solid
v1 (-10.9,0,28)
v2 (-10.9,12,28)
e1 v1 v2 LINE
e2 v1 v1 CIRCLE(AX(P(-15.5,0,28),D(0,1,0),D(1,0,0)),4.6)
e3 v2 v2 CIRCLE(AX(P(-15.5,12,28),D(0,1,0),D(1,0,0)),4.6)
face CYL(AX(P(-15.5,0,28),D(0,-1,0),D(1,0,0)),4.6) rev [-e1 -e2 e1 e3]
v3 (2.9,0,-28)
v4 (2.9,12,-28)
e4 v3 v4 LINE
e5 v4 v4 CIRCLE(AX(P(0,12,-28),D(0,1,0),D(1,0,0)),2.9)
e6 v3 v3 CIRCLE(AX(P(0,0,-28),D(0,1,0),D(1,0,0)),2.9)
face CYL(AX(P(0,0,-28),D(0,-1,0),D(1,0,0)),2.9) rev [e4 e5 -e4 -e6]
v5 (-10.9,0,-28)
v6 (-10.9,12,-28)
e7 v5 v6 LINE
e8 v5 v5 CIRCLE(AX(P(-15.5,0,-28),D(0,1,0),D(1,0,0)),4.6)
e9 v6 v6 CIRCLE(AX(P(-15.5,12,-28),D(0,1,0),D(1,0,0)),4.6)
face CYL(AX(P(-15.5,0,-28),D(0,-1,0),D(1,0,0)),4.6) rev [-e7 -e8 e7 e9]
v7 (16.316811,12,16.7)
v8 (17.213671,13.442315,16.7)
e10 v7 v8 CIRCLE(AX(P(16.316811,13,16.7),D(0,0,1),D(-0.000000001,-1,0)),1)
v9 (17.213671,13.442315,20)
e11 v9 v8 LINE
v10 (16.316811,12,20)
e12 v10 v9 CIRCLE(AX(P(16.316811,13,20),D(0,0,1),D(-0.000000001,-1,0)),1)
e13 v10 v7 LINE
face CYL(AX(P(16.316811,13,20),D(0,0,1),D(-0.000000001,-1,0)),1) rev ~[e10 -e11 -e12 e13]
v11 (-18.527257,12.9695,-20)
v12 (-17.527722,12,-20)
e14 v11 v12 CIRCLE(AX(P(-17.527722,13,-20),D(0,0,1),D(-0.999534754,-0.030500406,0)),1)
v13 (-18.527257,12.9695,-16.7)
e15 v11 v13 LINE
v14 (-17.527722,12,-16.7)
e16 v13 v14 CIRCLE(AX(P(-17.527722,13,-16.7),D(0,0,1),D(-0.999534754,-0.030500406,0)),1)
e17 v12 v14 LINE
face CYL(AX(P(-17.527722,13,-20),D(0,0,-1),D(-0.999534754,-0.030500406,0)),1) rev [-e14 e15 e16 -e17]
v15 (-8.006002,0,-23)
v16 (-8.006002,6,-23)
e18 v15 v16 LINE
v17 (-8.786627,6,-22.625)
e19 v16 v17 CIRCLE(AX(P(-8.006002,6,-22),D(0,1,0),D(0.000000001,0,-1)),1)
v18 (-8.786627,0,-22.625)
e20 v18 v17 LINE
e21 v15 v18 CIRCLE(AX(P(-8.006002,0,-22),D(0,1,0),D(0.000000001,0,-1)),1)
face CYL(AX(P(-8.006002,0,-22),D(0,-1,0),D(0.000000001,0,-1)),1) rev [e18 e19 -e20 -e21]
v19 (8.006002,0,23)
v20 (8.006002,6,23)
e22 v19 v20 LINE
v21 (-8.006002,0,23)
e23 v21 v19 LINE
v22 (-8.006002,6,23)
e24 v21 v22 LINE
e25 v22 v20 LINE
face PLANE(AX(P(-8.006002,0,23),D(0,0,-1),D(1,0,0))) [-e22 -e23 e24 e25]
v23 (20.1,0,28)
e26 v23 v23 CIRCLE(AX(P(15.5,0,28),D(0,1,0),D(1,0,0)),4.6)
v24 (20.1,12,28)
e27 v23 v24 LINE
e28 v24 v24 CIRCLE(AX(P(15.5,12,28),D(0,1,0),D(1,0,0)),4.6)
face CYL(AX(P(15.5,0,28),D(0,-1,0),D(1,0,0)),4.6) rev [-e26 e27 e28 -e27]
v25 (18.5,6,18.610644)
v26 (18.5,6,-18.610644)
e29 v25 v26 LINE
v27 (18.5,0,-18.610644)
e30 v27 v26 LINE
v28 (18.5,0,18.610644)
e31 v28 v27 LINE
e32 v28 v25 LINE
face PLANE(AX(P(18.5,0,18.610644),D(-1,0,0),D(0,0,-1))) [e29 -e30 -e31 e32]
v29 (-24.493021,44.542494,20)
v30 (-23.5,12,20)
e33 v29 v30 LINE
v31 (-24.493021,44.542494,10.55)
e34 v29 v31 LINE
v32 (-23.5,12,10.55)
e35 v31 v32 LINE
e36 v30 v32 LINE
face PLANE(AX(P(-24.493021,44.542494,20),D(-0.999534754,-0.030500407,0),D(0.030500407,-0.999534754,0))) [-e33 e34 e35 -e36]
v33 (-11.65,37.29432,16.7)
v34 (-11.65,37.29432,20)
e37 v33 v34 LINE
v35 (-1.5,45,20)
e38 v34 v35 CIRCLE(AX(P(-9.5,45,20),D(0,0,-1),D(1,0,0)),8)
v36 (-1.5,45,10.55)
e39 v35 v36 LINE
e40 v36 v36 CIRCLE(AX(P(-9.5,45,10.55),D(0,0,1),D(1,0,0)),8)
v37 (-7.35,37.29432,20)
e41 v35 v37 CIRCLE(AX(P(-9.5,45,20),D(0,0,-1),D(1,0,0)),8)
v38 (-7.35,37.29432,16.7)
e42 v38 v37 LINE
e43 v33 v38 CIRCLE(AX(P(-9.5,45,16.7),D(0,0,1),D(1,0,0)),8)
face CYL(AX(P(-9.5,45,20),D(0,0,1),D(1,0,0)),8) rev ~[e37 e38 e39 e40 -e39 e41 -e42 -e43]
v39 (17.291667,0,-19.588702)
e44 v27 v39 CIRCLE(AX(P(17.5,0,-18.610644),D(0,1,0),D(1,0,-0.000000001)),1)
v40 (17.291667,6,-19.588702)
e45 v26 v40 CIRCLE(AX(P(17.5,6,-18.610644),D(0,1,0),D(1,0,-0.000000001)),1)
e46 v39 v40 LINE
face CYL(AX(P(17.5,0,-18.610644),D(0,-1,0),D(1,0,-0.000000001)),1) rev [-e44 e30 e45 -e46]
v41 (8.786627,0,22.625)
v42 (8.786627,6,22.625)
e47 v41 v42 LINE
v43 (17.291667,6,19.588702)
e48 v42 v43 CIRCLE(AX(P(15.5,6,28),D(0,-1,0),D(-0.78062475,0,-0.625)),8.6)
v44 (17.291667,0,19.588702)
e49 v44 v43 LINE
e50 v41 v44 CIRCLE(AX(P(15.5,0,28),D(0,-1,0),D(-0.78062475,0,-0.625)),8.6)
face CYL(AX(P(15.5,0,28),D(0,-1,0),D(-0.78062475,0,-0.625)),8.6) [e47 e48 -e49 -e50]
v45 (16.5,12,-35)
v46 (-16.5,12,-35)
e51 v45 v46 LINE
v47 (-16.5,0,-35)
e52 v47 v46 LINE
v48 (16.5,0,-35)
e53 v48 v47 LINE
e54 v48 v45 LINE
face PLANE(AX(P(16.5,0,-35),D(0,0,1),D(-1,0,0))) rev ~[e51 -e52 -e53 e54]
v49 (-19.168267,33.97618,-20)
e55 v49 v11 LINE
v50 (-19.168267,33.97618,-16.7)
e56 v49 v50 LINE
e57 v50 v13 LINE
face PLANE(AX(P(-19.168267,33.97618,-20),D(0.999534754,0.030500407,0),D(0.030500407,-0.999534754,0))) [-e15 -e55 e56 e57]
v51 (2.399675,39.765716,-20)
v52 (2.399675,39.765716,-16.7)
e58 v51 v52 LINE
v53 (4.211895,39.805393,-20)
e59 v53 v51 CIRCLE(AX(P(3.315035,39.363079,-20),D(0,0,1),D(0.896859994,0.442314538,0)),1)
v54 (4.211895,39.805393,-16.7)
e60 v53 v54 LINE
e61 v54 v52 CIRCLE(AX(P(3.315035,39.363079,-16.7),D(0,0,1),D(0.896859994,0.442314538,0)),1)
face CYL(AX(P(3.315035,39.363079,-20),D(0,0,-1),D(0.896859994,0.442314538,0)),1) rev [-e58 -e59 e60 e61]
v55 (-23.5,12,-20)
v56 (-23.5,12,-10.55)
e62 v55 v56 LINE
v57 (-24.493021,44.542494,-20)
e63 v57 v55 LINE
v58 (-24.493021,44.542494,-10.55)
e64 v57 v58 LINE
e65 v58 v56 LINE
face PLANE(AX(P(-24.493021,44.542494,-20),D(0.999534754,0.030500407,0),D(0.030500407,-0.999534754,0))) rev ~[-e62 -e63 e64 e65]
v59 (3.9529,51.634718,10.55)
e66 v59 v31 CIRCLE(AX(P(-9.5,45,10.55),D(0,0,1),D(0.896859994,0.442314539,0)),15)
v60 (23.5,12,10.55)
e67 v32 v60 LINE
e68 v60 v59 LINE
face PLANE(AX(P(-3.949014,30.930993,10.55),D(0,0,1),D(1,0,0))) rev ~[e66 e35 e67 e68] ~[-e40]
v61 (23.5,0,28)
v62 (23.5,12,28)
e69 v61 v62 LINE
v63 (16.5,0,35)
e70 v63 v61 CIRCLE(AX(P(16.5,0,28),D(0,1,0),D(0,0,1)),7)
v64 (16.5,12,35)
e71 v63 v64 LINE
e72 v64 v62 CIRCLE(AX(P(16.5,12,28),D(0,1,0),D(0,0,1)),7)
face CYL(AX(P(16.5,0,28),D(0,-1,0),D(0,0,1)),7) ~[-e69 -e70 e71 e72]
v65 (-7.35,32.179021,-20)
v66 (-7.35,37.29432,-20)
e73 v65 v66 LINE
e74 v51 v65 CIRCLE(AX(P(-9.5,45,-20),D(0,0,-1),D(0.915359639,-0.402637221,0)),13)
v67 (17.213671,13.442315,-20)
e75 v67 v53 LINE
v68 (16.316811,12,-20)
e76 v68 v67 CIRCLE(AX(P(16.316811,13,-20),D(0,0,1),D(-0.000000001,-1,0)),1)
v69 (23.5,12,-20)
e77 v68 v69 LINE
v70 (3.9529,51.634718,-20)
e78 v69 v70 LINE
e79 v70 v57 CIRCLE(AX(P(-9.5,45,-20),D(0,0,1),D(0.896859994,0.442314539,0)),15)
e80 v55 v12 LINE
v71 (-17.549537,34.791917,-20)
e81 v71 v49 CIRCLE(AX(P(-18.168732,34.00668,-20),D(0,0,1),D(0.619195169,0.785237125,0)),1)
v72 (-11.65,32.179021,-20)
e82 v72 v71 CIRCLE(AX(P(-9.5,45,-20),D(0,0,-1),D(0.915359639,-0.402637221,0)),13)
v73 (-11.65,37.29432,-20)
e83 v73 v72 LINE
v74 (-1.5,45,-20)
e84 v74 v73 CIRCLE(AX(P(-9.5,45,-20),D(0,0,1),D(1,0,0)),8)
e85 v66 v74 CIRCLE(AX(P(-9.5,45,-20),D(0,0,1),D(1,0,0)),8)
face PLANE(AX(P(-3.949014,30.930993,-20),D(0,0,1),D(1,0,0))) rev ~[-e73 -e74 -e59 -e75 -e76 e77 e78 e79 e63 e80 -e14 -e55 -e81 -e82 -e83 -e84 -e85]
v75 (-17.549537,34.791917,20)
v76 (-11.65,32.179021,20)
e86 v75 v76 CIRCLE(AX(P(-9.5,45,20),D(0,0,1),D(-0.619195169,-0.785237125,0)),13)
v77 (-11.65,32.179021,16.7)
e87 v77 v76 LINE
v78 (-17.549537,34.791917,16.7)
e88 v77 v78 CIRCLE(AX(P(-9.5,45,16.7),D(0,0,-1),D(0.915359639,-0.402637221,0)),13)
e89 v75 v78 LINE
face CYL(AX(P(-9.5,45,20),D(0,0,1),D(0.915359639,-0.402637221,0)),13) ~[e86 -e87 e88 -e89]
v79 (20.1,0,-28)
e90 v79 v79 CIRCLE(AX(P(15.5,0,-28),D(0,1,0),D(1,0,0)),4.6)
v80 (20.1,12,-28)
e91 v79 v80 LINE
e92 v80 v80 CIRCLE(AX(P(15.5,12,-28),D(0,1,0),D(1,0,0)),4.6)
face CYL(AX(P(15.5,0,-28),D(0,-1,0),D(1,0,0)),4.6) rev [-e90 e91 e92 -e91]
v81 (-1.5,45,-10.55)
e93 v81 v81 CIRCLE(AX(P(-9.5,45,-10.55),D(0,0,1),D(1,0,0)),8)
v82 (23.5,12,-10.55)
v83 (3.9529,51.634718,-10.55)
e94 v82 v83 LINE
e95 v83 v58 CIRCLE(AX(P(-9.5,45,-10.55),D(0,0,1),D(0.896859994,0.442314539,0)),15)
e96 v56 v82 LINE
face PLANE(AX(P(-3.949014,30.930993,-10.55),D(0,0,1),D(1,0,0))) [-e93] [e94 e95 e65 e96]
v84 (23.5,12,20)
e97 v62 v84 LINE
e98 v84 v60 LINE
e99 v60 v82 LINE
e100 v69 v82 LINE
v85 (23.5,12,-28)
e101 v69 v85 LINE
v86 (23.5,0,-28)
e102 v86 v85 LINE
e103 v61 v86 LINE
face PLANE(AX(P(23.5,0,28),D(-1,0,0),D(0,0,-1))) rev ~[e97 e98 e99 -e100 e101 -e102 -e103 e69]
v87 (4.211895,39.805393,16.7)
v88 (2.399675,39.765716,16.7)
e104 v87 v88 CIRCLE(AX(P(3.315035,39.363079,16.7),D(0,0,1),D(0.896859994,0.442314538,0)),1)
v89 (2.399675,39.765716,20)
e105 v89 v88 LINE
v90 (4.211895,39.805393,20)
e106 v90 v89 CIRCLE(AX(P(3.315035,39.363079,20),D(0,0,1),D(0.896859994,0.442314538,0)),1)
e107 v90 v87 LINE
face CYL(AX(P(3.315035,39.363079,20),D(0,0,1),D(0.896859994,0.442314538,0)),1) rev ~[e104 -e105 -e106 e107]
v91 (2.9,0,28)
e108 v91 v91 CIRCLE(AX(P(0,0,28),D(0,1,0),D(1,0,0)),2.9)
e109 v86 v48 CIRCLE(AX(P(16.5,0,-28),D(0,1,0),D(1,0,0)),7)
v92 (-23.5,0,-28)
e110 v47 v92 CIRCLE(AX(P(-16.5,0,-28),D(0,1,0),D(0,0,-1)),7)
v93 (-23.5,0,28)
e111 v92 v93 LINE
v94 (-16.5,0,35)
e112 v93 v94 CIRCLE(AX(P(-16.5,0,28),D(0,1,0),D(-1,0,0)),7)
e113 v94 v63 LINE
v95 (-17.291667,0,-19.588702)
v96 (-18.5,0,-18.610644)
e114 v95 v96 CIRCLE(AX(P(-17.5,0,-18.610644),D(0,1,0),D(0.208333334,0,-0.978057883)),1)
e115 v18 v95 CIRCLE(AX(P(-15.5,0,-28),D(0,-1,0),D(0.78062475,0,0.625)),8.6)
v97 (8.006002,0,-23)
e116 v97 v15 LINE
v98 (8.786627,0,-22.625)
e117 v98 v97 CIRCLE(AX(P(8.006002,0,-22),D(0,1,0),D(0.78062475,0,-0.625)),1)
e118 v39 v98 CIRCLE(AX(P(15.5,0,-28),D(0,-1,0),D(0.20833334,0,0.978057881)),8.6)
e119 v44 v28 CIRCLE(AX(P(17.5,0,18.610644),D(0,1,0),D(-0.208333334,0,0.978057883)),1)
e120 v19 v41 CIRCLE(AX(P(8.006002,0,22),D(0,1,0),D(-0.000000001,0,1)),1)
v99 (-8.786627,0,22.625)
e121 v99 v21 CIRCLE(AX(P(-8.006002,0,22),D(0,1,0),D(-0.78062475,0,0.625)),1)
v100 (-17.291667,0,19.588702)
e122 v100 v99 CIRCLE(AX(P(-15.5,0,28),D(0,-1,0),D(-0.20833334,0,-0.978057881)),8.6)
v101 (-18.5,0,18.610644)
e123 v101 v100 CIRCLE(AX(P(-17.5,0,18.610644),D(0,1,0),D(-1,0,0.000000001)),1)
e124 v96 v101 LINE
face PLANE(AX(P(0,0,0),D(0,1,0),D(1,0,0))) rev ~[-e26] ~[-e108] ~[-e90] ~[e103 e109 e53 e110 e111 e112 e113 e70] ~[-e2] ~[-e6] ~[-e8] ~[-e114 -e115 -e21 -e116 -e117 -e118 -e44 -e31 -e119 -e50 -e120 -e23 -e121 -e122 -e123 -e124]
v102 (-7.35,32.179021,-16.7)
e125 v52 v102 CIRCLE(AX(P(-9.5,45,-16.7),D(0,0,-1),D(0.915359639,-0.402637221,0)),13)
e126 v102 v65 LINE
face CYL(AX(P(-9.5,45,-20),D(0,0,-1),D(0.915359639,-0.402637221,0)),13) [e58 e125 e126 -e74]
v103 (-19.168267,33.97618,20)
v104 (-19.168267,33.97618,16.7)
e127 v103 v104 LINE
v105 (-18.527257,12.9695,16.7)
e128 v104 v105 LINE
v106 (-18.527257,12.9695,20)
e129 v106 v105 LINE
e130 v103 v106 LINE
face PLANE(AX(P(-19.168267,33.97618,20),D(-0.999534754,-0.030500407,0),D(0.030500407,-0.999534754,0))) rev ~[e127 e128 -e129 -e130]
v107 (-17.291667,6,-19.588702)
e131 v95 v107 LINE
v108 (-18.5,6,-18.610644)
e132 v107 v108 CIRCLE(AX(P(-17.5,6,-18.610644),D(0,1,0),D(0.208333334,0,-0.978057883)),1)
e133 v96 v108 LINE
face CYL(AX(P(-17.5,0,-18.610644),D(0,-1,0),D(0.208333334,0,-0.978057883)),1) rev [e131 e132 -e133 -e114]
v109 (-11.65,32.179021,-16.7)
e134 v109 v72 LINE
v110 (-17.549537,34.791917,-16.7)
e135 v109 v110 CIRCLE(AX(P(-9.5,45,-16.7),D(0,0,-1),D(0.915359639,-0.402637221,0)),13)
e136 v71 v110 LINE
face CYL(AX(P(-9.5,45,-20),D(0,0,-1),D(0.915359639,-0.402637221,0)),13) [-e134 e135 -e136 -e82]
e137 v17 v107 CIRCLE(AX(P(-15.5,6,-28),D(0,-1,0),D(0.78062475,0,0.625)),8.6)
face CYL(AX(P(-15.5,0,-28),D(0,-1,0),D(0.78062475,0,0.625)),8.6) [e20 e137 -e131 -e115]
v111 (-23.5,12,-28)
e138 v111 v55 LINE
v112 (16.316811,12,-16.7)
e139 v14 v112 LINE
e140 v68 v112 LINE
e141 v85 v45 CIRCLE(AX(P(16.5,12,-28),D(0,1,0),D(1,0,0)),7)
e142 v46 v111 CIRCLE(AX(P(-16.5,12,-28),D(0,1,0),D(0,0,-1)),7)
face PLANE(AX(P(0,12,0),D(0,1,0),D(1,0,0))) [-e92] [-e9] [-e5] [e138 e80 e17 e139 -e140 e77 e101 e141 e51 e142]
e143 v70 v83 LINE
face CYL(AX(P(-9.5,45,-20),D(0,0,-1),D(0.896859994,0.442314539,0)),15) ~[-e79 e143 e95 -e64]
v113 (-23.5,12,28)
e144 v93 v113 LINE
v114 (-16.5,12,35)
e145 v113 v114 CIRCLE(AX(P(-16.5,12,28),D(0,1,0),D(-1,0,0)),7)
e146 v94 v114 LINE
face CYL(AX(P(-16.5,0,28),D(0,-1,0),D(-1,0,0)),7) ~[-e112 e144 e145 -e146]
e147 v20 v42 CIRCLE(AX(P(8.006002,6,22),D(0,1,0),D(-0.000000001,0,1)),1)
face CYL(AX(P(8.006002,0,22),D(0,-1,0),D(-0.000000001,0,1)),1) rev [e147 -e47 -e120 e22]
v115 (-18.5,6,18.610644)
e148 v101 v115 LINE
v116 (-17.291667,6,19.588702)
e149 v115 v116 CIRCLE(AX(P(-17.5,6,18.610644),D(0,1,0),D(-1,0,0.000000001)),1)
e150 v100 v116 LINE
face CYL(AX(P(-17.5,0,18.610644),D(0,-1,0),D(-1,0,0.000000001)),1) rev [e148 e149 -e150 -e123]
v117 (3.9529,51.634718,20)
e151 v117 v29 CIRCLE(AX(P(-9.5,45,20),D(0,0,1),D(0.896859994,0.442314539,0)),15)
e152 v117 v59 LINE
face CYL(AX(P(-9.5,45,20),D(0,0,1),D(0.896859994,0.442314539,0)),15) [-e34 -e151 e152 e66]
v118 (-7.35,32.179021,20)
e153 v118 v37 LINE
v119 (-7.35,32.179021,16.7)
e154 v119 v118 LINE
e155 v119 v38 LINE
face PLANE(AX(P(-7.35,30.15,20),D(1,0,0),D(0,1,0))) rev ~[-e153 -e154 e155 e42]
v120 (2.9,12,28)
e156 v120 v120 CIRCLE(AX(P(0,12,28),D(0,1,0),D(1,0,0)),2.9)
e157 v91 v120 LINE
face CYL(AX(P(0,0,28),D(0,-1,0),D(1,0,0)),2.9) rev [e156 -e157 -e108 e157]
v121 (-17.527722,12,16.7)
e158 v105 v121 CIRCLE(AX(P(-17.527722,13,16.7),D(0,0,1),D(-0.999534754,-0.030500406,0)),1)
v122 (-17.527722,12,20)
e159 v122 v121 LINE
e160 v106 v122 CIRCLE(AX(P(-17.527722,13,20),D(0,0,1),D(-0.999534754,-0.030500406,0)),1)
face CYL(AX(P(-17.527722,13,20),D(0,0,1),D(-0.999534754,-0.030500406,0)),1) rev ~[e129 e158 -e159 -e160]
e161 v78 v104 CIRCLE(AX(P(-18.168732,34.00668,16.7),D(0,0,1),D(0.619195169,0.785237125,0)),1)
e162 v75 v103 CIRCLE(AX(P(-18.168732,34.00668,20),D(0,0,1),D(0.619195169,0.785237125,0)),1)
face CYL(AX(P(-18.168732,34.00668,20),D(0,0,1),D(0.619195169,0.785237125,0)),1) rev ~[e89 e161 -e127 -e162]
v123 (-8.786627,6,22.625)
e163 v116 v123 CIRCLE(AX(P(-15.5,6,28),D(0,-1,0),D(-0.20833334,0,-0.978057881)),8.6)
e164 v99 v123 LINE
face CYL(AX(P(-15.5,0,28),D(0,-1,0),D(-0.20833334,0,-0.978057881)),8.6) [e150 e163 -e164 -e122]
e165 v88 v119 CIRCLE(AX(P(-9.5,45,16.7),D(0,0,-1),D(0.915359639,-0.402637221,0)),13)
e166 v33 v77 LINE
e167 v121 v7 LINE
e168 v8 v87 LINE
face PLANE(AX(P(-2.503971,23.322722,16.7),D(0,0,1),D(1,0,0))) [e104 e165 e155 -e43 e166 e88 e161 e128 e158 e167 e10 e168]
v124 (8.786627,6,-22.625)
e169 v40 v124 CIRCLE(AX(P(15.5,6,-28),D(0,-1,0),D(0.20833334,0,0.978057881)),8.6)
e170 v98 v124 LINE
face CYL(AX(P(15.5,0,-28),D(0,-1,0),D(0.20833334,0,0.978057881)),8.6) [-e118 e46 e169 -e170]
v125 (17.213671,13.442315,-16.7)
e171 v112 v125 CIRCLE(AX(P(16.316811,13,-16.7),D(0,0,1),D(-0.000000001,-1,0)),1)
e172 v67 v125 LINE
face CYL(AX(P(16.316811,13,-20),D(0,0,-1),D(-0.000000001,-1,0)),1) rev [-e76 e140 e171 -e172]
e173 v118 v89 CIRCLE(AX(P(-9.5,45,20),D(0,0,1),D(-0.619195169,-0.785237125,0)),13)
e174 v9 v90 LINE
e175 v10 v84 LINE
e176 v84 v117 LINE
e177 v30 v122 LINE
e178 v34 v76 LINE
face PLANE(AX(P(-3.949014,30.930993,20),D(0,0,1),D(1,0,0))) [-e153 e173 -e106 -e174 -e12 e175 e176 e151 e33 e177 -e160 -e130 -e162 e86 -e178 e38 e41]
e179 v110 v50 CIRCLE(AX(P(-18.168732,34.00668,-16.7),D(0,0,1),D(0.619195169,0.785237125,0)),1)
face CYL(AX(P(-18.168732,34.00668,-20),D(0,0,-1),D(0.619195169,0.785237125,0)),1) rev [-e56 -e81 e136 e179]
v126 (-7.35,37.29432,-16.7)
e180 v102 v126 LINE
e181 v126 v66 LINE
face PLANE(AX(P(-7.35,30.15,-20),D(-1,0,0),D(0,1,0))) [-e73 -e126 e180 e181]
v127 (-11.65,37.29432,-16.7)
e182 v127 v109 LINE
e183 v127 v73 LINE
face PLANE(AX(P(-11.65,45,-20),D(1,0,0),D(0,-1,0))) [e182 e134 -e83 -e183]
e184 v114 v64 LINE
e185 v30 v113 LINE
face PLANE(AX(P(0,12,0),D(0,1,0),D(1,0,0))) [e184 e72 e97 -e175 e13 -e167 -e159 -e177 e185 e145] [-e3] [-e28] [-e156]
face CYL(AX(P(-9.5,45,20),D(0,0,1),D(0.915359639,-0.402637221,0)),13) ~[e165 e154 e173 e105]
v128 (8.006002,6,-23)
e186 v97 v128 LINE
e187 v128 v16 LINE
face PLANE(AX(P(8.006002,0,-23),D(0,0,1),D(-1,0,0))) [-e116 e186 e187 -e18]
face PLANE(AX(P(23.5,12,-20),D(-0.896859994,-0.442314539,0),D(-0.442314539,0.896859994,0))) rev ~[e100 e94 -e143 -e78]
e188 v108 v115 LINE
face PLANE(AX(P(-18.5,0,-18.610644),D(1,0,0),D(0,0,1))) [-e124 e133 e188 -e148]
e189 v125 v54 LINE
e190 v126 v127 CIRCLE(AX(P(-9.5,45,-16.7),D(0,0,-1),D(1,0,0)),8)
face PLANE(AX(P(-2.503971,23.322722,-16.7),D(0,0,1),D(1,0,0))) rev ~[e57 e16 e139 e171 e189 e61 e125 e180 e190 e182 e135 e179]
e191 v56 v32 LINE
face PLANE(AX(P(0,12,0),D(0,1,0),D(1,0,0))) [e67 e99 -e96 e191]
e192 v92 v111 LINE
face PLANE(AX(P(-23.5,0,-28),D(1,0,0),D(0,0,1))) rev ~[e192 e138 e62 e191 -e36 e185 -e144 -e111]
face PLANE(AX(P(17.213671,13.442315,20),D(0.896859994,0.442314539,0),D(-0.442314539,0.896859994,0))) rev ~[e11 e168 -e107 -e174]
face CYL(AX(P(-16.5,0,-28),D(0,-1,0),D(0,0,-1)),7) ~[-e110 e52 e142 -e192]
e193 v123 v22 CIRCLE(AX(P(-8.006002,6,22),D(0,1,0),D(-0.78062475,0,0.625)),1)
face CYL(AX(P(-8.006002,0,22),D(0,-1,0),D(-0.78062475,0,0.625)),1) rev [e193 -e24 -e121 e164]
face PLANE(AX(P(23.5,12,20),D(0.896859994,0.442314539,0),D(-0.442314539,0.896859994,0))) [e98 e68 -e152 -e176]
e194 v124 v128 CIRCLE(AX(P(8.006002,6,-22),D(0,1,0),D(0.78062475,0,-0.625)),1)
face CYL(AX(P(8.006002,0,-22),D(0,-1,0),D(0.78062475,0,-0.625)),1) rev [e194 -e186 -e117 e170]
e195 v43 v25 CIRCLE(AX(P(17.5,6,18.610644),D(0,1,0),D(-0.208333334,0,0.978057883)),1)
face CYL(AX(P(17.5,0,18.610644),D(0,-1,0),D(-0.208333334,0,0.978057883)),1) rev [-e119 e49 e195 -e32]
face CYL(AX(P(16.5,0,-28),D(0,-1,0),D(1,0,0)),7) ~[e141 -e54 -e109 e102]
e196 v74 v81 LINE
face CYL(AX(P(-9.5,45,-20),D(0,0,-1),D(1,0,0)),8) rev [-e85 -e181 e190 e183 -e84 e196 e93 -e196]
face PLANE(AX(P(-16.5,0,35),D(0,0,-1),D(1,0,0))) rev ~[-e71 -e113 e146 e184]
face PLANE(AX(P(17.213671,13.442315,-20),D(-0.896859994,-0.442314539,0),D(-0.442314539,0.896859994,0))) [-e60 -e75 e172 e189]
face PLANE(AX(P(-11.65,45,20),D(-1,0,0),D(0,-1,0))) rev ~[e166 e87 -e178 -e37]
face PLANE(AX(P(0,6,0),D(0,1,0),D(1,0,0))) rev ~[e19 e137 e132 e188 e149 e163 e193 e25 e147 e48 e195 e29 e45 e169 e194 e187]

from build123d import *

# Parameters (mm, degrees)
SKETCH1_R               = 4.6
SKETCH1_R_2             = 2.9
BOSS_EXTRUDE1_DEPTH     = 12
CUT_EXTRUDE1_DEPTH      = 6
SKETCH3_R               = 8
BOSS_EXTRUDE2_DEPTH     = 9.45
CUT_EXTRUDE2_DEPTH      = 3.3
SKETCH5_R               = 8
BOSS_EXTRUDE3_DEPTH     = 9.45
CUT_EXTRUDE3_DEPTH      = 3.3
CUT_EXTRUDE4_DEPTH      = 3.3
CUT_EXTRUDE4_DEPTH_BACK = 3.3
CUT_EXTRUDE5_DEPTH      = 3.3
CUT_EXTRUDE5_DEPTH_BACK = 3.3


with BuildPart() as part:
    # Sketch1 → Boss-Extrude1 (new body)
    with BuildSketch(Plane(origin=(0, 0, 0), x_dir=(1, 0, 0), z_dir=(0, 1, 0))):
        with BuildLine():
            Line((-16.5, -35), (16.5, -35))
            ThreePointArc((16.5, -35), (21.449747468, -32.949747468), (23.5, -28))
            Line((23.5, -28), (23.5, 28))
            ThreePointArc((23.5, 28), (21.449747468, 32.949747468), (16.5, 35))
            Line((16.5, 35), (-16.5, 35))
            ThreePointArc((-16.5, 35), (-21.449747468, 32.949747468), (-23.5, 28))
            Line((-23.5, 28), (-23.5, -28))
            ThreePointArc((-23.5, -28), (-21.449747468, -32.949747468), (-16.5, -35))
        make_face()
        with Locations((15.5, 28)):
            Circle(SKETCH1_R, mode=Mode.SUBTRACT)
        with Locations((15.5, -28)):
            Circle(SKETCH1_R, mode=Mode.SUBTRACT)
        with Locations((0, 28)):
            Circle(SKETCH1_R_2, mode=Mode.SUBTRACT)
        with Locations((0, -28)):
            Circle(SKETCH1_R_2, mode=Mode.SUBTRACT)
        with Locations((-15.5, 28)):
            Circle(SKETCH1_R, mode=Mode.SUBTRACT)
        with Locations((-15.5, -28)):
            Circle(SKETCH1_R, mode=Mode.SUBTRACT)
    extrude(amount=BOSS_EXTRUDE1_DEPTH)

    # Sketch2 → Cut-Extrude1 (cut)
    with BuildSketch(Plane(origin=(0, 0, 0), x_dir=(1, 0, 0), z_dir=(0, 1, 0))):
        with BuildLine():
            Line((-8.006002402, -23), (8.006002402, -23))
            ThreePointArc((8.006002402, -23), (8.439015104, -22.901387819), (8.786627152, -22.625))
            ThreePointArc((8.786627152, -22.625), (12.608534281, -19.900652743), (17.291666667, -19.588702207))
            ThreePointArc((17.291666667, -19.588702207), (18.12915287, -19.387925912), (18.5, -18.610644325))
            Line((18.5, -18.610644325), (18.5, 18.610644325))
            ThreePointArc((18.5, 18.610644325), (18.129152893, 19.387925893), (17.291666727, 19.58870222))
            ThreePointArc((17.291666727, 19.58870222), (12.60853431, 19.900652732), (8.786627152, 22.625))
            ThreePointArc((8.786627152, 22.625), (8.439015104, 22.901387819), (8.006002402, 23))
            Line((8.006002402, 23), (-8.006002402, 23))
            ThreePointArc((-8.006002402, 23), (-8.439015104, 22.901387819), (-8.786627152, 22.625))
            ThreePointArc((-8.786627152, 22.625), (-12.608534281, 19.900652743), (-17.291666667, 19.588702207))
            ThreePointArc((-17.291666667, 19.588702207), (-18.12915287, 19.387925912), (-18.5, 18.610644325))
            Line((-18.5, 18.610644325), (-18.5, -18.610644325))
            ThreePointArc((-18.5, -18.610644325), (-18.129152893, -19.387925893), (-17.291666727, -19.58870222))
            ThreePointArc((-17.291666727, -19.58870222), (-12.60853431, -19.900652732), (-8.786627152, -22.625))
            ThreePointArc((-8.786627152, -22.625), (-8.439015104, -22.901387819), (-8.006002402, -23))
        make_face()
    extrude(amount=CUT_EXTRUDE1_DEPTH, mode=Mode.SUBTRACT)

    # Sketch3 → Boss-Extrude2 (add)
    with BuildSketch(Plane.XY.offset(20)):
        with BuildLine():
            Line((-24.493021315, 44.542493891), (-23.5, 12))
            Line((-23.5, 12), (23.5, 12))
            Line((23.5, 12), (3.952899906, 51.634718088))
            ThreePointArc((3.952899906, 51.634718088), (-13.128760739, 59.554452772), (-24.493021315, 44.542493891))
        make_face()
        with Locations((-9.5, 45)):
            Circle(SKETCH3_R, mode=Mode.SUBTRACT)
    extrude(amount=-BOSS_EXTRUDE2_DEPTH)

    # Sketch4 → Cut-Extrude2 (cut)
    with BuildSketch(Plane.XY.offset(20)):
        with BuildLine():
            Line((-19.168267115, 33.976179837), (-18.527256585, 12.969499593))
            ThreePointArc((-18.527256585, 12.969499593), (-18.223961586, 12.282190691), (-17.527721831, 12))
            Line((-17.527721831, 12), (16.316811337, 12))
            ThreePointArc((16.316811337, 12), (17.166021129, 12.471944387), (17.213671331, 13.442314539))
            Line((17.213671331, 13.442314539), (4.211894935, 39.805393442))
            ThreePointArc((4.211894935, 39.805393442), (3.293145866, 40.362839309), (2.399675303, 39.765716124))
            ThreePointArc((2.399675303, 39.765716124), (-6.355074026, 32.386140931), (-17.549537192, 34.791917369))
            ThreePointArc((-17.549537192, 34.791917369), (-18.618756227, 34.899696772), (-19.168267115, 33.976179837))
        make_face()
    extrude(amount=-CUT_EXTRUDE2_DEPTH, mode=Mode.SUBTRACT)

    # Sketch5 → Boss-Extrude3 (add)
    with BuildSketch(Plane.XY.offset(-20)):
        with BuildLine():
            Line((-24.493021315, 44.542493891), (-23.5, 12))
            Line((-23.5, 12), (23.5, 12))
            Line((23.5, 12), (3.952899906, 51.634718088))
            ThreePointArc((3.952899906, 51.634718088), (-13.128760739, 59.554452772), (-24.493021315, 44.542493891))
        make_face()
        with Locations((-9.5, 45)):
            Circle(SKETCH5_R, mode=Mode.SUBTRACT)
    extrude(amount=BOSS_EXTRUDE3_DEPTH)

    # Sketch6 → Cut-Extrude3 (cut)
    with BuildSketch(Plane.XY.offset(-20)):
        with BuildLine():
            Line((-19.168267115, 33.976179837), (-18.527256585, 12.969499593))
            ThreePointArc((-18.527256585, 12.969499593), (-18.223961586, 12.282190691), (-17.527721831, 12))
            Line((-17.527721831, 12), (16.316811337, 12))
            ThreePointArc((16.316811337, 12), (17.166021129, 12.471944387), (17.213671331, 13.442314539))
            Line((17.213671331, 13.442314539), (4.211894935, 39.805393442))
            ThreePointArc((4.211894935, 39.805393442), (3.293145866, 40.362839309), (2.399675303, 39.765716124))
            ThreePointArc((2.399675303, 39.765716124), (-6.355074026, 32.386140931), (-17.549537192, 34.791917369))
            ThreePointArc((-17.549537192, 34.791917369), (-18.618756227, 34.899696772), (-19.168267115, 33.976179837))
        make_face()
    extrude(amount=CUT_EXTRUDE3_DEPTH, mode=Mode.SUBTRACT)

    # Sketch7 → Cut-Extrude4 (cut, two sides)
    with BuildSketch(Plane.XY.offset(20)) as cut_extrude4_sk:
        with BuildLine():
            Line((-7.35, 30.15), (-7.35, 45))
            Line((-7.35, 45), (-11.65, 45))
            Line((-11.65, 45), (-11.65, 30.15))
            ThreePointArc((-11.65, 30.15), (-9.5, 28), (-7.35, 30.15))
        make_face()
    extrude(amount=CUT_EXTRUDE4_DEPTH, mode=Mode.SUBTRACT)
    extrude(cut_extrude4_sk.sketch, amount=-CUT_EXTRUDE4_DEPTH_BACK, mode=Mode.SUBTRACT)

    # Sketch8 → Cut-Extrude5 (cut, two sides)
    with BuildSketch(Plane.XY.offset(-20)) as cut_extrude5_sk:
        with BuildLine():
            Line((-7.35, 30.15), (-7.35, 45))
            Line((-7.35, 45), (-11.65, 45))
            Line((-11.65, 45), (-11.65, 30.15))
            ThreePointArc((-11.65, 30.15), (-9.5, 28), (-7.35, 30.15))
        make_face()
    extrude(amount=CUT_EXTRUDE5_DEPTH, mode=Mode.SUBTRACT)
    extrude(cut_extrude5_sk.sketch, amount=-CUT_EXTRUDE5_DEPTH_BACK, mode=Mode.SUBTRACT)


solid = part.part
